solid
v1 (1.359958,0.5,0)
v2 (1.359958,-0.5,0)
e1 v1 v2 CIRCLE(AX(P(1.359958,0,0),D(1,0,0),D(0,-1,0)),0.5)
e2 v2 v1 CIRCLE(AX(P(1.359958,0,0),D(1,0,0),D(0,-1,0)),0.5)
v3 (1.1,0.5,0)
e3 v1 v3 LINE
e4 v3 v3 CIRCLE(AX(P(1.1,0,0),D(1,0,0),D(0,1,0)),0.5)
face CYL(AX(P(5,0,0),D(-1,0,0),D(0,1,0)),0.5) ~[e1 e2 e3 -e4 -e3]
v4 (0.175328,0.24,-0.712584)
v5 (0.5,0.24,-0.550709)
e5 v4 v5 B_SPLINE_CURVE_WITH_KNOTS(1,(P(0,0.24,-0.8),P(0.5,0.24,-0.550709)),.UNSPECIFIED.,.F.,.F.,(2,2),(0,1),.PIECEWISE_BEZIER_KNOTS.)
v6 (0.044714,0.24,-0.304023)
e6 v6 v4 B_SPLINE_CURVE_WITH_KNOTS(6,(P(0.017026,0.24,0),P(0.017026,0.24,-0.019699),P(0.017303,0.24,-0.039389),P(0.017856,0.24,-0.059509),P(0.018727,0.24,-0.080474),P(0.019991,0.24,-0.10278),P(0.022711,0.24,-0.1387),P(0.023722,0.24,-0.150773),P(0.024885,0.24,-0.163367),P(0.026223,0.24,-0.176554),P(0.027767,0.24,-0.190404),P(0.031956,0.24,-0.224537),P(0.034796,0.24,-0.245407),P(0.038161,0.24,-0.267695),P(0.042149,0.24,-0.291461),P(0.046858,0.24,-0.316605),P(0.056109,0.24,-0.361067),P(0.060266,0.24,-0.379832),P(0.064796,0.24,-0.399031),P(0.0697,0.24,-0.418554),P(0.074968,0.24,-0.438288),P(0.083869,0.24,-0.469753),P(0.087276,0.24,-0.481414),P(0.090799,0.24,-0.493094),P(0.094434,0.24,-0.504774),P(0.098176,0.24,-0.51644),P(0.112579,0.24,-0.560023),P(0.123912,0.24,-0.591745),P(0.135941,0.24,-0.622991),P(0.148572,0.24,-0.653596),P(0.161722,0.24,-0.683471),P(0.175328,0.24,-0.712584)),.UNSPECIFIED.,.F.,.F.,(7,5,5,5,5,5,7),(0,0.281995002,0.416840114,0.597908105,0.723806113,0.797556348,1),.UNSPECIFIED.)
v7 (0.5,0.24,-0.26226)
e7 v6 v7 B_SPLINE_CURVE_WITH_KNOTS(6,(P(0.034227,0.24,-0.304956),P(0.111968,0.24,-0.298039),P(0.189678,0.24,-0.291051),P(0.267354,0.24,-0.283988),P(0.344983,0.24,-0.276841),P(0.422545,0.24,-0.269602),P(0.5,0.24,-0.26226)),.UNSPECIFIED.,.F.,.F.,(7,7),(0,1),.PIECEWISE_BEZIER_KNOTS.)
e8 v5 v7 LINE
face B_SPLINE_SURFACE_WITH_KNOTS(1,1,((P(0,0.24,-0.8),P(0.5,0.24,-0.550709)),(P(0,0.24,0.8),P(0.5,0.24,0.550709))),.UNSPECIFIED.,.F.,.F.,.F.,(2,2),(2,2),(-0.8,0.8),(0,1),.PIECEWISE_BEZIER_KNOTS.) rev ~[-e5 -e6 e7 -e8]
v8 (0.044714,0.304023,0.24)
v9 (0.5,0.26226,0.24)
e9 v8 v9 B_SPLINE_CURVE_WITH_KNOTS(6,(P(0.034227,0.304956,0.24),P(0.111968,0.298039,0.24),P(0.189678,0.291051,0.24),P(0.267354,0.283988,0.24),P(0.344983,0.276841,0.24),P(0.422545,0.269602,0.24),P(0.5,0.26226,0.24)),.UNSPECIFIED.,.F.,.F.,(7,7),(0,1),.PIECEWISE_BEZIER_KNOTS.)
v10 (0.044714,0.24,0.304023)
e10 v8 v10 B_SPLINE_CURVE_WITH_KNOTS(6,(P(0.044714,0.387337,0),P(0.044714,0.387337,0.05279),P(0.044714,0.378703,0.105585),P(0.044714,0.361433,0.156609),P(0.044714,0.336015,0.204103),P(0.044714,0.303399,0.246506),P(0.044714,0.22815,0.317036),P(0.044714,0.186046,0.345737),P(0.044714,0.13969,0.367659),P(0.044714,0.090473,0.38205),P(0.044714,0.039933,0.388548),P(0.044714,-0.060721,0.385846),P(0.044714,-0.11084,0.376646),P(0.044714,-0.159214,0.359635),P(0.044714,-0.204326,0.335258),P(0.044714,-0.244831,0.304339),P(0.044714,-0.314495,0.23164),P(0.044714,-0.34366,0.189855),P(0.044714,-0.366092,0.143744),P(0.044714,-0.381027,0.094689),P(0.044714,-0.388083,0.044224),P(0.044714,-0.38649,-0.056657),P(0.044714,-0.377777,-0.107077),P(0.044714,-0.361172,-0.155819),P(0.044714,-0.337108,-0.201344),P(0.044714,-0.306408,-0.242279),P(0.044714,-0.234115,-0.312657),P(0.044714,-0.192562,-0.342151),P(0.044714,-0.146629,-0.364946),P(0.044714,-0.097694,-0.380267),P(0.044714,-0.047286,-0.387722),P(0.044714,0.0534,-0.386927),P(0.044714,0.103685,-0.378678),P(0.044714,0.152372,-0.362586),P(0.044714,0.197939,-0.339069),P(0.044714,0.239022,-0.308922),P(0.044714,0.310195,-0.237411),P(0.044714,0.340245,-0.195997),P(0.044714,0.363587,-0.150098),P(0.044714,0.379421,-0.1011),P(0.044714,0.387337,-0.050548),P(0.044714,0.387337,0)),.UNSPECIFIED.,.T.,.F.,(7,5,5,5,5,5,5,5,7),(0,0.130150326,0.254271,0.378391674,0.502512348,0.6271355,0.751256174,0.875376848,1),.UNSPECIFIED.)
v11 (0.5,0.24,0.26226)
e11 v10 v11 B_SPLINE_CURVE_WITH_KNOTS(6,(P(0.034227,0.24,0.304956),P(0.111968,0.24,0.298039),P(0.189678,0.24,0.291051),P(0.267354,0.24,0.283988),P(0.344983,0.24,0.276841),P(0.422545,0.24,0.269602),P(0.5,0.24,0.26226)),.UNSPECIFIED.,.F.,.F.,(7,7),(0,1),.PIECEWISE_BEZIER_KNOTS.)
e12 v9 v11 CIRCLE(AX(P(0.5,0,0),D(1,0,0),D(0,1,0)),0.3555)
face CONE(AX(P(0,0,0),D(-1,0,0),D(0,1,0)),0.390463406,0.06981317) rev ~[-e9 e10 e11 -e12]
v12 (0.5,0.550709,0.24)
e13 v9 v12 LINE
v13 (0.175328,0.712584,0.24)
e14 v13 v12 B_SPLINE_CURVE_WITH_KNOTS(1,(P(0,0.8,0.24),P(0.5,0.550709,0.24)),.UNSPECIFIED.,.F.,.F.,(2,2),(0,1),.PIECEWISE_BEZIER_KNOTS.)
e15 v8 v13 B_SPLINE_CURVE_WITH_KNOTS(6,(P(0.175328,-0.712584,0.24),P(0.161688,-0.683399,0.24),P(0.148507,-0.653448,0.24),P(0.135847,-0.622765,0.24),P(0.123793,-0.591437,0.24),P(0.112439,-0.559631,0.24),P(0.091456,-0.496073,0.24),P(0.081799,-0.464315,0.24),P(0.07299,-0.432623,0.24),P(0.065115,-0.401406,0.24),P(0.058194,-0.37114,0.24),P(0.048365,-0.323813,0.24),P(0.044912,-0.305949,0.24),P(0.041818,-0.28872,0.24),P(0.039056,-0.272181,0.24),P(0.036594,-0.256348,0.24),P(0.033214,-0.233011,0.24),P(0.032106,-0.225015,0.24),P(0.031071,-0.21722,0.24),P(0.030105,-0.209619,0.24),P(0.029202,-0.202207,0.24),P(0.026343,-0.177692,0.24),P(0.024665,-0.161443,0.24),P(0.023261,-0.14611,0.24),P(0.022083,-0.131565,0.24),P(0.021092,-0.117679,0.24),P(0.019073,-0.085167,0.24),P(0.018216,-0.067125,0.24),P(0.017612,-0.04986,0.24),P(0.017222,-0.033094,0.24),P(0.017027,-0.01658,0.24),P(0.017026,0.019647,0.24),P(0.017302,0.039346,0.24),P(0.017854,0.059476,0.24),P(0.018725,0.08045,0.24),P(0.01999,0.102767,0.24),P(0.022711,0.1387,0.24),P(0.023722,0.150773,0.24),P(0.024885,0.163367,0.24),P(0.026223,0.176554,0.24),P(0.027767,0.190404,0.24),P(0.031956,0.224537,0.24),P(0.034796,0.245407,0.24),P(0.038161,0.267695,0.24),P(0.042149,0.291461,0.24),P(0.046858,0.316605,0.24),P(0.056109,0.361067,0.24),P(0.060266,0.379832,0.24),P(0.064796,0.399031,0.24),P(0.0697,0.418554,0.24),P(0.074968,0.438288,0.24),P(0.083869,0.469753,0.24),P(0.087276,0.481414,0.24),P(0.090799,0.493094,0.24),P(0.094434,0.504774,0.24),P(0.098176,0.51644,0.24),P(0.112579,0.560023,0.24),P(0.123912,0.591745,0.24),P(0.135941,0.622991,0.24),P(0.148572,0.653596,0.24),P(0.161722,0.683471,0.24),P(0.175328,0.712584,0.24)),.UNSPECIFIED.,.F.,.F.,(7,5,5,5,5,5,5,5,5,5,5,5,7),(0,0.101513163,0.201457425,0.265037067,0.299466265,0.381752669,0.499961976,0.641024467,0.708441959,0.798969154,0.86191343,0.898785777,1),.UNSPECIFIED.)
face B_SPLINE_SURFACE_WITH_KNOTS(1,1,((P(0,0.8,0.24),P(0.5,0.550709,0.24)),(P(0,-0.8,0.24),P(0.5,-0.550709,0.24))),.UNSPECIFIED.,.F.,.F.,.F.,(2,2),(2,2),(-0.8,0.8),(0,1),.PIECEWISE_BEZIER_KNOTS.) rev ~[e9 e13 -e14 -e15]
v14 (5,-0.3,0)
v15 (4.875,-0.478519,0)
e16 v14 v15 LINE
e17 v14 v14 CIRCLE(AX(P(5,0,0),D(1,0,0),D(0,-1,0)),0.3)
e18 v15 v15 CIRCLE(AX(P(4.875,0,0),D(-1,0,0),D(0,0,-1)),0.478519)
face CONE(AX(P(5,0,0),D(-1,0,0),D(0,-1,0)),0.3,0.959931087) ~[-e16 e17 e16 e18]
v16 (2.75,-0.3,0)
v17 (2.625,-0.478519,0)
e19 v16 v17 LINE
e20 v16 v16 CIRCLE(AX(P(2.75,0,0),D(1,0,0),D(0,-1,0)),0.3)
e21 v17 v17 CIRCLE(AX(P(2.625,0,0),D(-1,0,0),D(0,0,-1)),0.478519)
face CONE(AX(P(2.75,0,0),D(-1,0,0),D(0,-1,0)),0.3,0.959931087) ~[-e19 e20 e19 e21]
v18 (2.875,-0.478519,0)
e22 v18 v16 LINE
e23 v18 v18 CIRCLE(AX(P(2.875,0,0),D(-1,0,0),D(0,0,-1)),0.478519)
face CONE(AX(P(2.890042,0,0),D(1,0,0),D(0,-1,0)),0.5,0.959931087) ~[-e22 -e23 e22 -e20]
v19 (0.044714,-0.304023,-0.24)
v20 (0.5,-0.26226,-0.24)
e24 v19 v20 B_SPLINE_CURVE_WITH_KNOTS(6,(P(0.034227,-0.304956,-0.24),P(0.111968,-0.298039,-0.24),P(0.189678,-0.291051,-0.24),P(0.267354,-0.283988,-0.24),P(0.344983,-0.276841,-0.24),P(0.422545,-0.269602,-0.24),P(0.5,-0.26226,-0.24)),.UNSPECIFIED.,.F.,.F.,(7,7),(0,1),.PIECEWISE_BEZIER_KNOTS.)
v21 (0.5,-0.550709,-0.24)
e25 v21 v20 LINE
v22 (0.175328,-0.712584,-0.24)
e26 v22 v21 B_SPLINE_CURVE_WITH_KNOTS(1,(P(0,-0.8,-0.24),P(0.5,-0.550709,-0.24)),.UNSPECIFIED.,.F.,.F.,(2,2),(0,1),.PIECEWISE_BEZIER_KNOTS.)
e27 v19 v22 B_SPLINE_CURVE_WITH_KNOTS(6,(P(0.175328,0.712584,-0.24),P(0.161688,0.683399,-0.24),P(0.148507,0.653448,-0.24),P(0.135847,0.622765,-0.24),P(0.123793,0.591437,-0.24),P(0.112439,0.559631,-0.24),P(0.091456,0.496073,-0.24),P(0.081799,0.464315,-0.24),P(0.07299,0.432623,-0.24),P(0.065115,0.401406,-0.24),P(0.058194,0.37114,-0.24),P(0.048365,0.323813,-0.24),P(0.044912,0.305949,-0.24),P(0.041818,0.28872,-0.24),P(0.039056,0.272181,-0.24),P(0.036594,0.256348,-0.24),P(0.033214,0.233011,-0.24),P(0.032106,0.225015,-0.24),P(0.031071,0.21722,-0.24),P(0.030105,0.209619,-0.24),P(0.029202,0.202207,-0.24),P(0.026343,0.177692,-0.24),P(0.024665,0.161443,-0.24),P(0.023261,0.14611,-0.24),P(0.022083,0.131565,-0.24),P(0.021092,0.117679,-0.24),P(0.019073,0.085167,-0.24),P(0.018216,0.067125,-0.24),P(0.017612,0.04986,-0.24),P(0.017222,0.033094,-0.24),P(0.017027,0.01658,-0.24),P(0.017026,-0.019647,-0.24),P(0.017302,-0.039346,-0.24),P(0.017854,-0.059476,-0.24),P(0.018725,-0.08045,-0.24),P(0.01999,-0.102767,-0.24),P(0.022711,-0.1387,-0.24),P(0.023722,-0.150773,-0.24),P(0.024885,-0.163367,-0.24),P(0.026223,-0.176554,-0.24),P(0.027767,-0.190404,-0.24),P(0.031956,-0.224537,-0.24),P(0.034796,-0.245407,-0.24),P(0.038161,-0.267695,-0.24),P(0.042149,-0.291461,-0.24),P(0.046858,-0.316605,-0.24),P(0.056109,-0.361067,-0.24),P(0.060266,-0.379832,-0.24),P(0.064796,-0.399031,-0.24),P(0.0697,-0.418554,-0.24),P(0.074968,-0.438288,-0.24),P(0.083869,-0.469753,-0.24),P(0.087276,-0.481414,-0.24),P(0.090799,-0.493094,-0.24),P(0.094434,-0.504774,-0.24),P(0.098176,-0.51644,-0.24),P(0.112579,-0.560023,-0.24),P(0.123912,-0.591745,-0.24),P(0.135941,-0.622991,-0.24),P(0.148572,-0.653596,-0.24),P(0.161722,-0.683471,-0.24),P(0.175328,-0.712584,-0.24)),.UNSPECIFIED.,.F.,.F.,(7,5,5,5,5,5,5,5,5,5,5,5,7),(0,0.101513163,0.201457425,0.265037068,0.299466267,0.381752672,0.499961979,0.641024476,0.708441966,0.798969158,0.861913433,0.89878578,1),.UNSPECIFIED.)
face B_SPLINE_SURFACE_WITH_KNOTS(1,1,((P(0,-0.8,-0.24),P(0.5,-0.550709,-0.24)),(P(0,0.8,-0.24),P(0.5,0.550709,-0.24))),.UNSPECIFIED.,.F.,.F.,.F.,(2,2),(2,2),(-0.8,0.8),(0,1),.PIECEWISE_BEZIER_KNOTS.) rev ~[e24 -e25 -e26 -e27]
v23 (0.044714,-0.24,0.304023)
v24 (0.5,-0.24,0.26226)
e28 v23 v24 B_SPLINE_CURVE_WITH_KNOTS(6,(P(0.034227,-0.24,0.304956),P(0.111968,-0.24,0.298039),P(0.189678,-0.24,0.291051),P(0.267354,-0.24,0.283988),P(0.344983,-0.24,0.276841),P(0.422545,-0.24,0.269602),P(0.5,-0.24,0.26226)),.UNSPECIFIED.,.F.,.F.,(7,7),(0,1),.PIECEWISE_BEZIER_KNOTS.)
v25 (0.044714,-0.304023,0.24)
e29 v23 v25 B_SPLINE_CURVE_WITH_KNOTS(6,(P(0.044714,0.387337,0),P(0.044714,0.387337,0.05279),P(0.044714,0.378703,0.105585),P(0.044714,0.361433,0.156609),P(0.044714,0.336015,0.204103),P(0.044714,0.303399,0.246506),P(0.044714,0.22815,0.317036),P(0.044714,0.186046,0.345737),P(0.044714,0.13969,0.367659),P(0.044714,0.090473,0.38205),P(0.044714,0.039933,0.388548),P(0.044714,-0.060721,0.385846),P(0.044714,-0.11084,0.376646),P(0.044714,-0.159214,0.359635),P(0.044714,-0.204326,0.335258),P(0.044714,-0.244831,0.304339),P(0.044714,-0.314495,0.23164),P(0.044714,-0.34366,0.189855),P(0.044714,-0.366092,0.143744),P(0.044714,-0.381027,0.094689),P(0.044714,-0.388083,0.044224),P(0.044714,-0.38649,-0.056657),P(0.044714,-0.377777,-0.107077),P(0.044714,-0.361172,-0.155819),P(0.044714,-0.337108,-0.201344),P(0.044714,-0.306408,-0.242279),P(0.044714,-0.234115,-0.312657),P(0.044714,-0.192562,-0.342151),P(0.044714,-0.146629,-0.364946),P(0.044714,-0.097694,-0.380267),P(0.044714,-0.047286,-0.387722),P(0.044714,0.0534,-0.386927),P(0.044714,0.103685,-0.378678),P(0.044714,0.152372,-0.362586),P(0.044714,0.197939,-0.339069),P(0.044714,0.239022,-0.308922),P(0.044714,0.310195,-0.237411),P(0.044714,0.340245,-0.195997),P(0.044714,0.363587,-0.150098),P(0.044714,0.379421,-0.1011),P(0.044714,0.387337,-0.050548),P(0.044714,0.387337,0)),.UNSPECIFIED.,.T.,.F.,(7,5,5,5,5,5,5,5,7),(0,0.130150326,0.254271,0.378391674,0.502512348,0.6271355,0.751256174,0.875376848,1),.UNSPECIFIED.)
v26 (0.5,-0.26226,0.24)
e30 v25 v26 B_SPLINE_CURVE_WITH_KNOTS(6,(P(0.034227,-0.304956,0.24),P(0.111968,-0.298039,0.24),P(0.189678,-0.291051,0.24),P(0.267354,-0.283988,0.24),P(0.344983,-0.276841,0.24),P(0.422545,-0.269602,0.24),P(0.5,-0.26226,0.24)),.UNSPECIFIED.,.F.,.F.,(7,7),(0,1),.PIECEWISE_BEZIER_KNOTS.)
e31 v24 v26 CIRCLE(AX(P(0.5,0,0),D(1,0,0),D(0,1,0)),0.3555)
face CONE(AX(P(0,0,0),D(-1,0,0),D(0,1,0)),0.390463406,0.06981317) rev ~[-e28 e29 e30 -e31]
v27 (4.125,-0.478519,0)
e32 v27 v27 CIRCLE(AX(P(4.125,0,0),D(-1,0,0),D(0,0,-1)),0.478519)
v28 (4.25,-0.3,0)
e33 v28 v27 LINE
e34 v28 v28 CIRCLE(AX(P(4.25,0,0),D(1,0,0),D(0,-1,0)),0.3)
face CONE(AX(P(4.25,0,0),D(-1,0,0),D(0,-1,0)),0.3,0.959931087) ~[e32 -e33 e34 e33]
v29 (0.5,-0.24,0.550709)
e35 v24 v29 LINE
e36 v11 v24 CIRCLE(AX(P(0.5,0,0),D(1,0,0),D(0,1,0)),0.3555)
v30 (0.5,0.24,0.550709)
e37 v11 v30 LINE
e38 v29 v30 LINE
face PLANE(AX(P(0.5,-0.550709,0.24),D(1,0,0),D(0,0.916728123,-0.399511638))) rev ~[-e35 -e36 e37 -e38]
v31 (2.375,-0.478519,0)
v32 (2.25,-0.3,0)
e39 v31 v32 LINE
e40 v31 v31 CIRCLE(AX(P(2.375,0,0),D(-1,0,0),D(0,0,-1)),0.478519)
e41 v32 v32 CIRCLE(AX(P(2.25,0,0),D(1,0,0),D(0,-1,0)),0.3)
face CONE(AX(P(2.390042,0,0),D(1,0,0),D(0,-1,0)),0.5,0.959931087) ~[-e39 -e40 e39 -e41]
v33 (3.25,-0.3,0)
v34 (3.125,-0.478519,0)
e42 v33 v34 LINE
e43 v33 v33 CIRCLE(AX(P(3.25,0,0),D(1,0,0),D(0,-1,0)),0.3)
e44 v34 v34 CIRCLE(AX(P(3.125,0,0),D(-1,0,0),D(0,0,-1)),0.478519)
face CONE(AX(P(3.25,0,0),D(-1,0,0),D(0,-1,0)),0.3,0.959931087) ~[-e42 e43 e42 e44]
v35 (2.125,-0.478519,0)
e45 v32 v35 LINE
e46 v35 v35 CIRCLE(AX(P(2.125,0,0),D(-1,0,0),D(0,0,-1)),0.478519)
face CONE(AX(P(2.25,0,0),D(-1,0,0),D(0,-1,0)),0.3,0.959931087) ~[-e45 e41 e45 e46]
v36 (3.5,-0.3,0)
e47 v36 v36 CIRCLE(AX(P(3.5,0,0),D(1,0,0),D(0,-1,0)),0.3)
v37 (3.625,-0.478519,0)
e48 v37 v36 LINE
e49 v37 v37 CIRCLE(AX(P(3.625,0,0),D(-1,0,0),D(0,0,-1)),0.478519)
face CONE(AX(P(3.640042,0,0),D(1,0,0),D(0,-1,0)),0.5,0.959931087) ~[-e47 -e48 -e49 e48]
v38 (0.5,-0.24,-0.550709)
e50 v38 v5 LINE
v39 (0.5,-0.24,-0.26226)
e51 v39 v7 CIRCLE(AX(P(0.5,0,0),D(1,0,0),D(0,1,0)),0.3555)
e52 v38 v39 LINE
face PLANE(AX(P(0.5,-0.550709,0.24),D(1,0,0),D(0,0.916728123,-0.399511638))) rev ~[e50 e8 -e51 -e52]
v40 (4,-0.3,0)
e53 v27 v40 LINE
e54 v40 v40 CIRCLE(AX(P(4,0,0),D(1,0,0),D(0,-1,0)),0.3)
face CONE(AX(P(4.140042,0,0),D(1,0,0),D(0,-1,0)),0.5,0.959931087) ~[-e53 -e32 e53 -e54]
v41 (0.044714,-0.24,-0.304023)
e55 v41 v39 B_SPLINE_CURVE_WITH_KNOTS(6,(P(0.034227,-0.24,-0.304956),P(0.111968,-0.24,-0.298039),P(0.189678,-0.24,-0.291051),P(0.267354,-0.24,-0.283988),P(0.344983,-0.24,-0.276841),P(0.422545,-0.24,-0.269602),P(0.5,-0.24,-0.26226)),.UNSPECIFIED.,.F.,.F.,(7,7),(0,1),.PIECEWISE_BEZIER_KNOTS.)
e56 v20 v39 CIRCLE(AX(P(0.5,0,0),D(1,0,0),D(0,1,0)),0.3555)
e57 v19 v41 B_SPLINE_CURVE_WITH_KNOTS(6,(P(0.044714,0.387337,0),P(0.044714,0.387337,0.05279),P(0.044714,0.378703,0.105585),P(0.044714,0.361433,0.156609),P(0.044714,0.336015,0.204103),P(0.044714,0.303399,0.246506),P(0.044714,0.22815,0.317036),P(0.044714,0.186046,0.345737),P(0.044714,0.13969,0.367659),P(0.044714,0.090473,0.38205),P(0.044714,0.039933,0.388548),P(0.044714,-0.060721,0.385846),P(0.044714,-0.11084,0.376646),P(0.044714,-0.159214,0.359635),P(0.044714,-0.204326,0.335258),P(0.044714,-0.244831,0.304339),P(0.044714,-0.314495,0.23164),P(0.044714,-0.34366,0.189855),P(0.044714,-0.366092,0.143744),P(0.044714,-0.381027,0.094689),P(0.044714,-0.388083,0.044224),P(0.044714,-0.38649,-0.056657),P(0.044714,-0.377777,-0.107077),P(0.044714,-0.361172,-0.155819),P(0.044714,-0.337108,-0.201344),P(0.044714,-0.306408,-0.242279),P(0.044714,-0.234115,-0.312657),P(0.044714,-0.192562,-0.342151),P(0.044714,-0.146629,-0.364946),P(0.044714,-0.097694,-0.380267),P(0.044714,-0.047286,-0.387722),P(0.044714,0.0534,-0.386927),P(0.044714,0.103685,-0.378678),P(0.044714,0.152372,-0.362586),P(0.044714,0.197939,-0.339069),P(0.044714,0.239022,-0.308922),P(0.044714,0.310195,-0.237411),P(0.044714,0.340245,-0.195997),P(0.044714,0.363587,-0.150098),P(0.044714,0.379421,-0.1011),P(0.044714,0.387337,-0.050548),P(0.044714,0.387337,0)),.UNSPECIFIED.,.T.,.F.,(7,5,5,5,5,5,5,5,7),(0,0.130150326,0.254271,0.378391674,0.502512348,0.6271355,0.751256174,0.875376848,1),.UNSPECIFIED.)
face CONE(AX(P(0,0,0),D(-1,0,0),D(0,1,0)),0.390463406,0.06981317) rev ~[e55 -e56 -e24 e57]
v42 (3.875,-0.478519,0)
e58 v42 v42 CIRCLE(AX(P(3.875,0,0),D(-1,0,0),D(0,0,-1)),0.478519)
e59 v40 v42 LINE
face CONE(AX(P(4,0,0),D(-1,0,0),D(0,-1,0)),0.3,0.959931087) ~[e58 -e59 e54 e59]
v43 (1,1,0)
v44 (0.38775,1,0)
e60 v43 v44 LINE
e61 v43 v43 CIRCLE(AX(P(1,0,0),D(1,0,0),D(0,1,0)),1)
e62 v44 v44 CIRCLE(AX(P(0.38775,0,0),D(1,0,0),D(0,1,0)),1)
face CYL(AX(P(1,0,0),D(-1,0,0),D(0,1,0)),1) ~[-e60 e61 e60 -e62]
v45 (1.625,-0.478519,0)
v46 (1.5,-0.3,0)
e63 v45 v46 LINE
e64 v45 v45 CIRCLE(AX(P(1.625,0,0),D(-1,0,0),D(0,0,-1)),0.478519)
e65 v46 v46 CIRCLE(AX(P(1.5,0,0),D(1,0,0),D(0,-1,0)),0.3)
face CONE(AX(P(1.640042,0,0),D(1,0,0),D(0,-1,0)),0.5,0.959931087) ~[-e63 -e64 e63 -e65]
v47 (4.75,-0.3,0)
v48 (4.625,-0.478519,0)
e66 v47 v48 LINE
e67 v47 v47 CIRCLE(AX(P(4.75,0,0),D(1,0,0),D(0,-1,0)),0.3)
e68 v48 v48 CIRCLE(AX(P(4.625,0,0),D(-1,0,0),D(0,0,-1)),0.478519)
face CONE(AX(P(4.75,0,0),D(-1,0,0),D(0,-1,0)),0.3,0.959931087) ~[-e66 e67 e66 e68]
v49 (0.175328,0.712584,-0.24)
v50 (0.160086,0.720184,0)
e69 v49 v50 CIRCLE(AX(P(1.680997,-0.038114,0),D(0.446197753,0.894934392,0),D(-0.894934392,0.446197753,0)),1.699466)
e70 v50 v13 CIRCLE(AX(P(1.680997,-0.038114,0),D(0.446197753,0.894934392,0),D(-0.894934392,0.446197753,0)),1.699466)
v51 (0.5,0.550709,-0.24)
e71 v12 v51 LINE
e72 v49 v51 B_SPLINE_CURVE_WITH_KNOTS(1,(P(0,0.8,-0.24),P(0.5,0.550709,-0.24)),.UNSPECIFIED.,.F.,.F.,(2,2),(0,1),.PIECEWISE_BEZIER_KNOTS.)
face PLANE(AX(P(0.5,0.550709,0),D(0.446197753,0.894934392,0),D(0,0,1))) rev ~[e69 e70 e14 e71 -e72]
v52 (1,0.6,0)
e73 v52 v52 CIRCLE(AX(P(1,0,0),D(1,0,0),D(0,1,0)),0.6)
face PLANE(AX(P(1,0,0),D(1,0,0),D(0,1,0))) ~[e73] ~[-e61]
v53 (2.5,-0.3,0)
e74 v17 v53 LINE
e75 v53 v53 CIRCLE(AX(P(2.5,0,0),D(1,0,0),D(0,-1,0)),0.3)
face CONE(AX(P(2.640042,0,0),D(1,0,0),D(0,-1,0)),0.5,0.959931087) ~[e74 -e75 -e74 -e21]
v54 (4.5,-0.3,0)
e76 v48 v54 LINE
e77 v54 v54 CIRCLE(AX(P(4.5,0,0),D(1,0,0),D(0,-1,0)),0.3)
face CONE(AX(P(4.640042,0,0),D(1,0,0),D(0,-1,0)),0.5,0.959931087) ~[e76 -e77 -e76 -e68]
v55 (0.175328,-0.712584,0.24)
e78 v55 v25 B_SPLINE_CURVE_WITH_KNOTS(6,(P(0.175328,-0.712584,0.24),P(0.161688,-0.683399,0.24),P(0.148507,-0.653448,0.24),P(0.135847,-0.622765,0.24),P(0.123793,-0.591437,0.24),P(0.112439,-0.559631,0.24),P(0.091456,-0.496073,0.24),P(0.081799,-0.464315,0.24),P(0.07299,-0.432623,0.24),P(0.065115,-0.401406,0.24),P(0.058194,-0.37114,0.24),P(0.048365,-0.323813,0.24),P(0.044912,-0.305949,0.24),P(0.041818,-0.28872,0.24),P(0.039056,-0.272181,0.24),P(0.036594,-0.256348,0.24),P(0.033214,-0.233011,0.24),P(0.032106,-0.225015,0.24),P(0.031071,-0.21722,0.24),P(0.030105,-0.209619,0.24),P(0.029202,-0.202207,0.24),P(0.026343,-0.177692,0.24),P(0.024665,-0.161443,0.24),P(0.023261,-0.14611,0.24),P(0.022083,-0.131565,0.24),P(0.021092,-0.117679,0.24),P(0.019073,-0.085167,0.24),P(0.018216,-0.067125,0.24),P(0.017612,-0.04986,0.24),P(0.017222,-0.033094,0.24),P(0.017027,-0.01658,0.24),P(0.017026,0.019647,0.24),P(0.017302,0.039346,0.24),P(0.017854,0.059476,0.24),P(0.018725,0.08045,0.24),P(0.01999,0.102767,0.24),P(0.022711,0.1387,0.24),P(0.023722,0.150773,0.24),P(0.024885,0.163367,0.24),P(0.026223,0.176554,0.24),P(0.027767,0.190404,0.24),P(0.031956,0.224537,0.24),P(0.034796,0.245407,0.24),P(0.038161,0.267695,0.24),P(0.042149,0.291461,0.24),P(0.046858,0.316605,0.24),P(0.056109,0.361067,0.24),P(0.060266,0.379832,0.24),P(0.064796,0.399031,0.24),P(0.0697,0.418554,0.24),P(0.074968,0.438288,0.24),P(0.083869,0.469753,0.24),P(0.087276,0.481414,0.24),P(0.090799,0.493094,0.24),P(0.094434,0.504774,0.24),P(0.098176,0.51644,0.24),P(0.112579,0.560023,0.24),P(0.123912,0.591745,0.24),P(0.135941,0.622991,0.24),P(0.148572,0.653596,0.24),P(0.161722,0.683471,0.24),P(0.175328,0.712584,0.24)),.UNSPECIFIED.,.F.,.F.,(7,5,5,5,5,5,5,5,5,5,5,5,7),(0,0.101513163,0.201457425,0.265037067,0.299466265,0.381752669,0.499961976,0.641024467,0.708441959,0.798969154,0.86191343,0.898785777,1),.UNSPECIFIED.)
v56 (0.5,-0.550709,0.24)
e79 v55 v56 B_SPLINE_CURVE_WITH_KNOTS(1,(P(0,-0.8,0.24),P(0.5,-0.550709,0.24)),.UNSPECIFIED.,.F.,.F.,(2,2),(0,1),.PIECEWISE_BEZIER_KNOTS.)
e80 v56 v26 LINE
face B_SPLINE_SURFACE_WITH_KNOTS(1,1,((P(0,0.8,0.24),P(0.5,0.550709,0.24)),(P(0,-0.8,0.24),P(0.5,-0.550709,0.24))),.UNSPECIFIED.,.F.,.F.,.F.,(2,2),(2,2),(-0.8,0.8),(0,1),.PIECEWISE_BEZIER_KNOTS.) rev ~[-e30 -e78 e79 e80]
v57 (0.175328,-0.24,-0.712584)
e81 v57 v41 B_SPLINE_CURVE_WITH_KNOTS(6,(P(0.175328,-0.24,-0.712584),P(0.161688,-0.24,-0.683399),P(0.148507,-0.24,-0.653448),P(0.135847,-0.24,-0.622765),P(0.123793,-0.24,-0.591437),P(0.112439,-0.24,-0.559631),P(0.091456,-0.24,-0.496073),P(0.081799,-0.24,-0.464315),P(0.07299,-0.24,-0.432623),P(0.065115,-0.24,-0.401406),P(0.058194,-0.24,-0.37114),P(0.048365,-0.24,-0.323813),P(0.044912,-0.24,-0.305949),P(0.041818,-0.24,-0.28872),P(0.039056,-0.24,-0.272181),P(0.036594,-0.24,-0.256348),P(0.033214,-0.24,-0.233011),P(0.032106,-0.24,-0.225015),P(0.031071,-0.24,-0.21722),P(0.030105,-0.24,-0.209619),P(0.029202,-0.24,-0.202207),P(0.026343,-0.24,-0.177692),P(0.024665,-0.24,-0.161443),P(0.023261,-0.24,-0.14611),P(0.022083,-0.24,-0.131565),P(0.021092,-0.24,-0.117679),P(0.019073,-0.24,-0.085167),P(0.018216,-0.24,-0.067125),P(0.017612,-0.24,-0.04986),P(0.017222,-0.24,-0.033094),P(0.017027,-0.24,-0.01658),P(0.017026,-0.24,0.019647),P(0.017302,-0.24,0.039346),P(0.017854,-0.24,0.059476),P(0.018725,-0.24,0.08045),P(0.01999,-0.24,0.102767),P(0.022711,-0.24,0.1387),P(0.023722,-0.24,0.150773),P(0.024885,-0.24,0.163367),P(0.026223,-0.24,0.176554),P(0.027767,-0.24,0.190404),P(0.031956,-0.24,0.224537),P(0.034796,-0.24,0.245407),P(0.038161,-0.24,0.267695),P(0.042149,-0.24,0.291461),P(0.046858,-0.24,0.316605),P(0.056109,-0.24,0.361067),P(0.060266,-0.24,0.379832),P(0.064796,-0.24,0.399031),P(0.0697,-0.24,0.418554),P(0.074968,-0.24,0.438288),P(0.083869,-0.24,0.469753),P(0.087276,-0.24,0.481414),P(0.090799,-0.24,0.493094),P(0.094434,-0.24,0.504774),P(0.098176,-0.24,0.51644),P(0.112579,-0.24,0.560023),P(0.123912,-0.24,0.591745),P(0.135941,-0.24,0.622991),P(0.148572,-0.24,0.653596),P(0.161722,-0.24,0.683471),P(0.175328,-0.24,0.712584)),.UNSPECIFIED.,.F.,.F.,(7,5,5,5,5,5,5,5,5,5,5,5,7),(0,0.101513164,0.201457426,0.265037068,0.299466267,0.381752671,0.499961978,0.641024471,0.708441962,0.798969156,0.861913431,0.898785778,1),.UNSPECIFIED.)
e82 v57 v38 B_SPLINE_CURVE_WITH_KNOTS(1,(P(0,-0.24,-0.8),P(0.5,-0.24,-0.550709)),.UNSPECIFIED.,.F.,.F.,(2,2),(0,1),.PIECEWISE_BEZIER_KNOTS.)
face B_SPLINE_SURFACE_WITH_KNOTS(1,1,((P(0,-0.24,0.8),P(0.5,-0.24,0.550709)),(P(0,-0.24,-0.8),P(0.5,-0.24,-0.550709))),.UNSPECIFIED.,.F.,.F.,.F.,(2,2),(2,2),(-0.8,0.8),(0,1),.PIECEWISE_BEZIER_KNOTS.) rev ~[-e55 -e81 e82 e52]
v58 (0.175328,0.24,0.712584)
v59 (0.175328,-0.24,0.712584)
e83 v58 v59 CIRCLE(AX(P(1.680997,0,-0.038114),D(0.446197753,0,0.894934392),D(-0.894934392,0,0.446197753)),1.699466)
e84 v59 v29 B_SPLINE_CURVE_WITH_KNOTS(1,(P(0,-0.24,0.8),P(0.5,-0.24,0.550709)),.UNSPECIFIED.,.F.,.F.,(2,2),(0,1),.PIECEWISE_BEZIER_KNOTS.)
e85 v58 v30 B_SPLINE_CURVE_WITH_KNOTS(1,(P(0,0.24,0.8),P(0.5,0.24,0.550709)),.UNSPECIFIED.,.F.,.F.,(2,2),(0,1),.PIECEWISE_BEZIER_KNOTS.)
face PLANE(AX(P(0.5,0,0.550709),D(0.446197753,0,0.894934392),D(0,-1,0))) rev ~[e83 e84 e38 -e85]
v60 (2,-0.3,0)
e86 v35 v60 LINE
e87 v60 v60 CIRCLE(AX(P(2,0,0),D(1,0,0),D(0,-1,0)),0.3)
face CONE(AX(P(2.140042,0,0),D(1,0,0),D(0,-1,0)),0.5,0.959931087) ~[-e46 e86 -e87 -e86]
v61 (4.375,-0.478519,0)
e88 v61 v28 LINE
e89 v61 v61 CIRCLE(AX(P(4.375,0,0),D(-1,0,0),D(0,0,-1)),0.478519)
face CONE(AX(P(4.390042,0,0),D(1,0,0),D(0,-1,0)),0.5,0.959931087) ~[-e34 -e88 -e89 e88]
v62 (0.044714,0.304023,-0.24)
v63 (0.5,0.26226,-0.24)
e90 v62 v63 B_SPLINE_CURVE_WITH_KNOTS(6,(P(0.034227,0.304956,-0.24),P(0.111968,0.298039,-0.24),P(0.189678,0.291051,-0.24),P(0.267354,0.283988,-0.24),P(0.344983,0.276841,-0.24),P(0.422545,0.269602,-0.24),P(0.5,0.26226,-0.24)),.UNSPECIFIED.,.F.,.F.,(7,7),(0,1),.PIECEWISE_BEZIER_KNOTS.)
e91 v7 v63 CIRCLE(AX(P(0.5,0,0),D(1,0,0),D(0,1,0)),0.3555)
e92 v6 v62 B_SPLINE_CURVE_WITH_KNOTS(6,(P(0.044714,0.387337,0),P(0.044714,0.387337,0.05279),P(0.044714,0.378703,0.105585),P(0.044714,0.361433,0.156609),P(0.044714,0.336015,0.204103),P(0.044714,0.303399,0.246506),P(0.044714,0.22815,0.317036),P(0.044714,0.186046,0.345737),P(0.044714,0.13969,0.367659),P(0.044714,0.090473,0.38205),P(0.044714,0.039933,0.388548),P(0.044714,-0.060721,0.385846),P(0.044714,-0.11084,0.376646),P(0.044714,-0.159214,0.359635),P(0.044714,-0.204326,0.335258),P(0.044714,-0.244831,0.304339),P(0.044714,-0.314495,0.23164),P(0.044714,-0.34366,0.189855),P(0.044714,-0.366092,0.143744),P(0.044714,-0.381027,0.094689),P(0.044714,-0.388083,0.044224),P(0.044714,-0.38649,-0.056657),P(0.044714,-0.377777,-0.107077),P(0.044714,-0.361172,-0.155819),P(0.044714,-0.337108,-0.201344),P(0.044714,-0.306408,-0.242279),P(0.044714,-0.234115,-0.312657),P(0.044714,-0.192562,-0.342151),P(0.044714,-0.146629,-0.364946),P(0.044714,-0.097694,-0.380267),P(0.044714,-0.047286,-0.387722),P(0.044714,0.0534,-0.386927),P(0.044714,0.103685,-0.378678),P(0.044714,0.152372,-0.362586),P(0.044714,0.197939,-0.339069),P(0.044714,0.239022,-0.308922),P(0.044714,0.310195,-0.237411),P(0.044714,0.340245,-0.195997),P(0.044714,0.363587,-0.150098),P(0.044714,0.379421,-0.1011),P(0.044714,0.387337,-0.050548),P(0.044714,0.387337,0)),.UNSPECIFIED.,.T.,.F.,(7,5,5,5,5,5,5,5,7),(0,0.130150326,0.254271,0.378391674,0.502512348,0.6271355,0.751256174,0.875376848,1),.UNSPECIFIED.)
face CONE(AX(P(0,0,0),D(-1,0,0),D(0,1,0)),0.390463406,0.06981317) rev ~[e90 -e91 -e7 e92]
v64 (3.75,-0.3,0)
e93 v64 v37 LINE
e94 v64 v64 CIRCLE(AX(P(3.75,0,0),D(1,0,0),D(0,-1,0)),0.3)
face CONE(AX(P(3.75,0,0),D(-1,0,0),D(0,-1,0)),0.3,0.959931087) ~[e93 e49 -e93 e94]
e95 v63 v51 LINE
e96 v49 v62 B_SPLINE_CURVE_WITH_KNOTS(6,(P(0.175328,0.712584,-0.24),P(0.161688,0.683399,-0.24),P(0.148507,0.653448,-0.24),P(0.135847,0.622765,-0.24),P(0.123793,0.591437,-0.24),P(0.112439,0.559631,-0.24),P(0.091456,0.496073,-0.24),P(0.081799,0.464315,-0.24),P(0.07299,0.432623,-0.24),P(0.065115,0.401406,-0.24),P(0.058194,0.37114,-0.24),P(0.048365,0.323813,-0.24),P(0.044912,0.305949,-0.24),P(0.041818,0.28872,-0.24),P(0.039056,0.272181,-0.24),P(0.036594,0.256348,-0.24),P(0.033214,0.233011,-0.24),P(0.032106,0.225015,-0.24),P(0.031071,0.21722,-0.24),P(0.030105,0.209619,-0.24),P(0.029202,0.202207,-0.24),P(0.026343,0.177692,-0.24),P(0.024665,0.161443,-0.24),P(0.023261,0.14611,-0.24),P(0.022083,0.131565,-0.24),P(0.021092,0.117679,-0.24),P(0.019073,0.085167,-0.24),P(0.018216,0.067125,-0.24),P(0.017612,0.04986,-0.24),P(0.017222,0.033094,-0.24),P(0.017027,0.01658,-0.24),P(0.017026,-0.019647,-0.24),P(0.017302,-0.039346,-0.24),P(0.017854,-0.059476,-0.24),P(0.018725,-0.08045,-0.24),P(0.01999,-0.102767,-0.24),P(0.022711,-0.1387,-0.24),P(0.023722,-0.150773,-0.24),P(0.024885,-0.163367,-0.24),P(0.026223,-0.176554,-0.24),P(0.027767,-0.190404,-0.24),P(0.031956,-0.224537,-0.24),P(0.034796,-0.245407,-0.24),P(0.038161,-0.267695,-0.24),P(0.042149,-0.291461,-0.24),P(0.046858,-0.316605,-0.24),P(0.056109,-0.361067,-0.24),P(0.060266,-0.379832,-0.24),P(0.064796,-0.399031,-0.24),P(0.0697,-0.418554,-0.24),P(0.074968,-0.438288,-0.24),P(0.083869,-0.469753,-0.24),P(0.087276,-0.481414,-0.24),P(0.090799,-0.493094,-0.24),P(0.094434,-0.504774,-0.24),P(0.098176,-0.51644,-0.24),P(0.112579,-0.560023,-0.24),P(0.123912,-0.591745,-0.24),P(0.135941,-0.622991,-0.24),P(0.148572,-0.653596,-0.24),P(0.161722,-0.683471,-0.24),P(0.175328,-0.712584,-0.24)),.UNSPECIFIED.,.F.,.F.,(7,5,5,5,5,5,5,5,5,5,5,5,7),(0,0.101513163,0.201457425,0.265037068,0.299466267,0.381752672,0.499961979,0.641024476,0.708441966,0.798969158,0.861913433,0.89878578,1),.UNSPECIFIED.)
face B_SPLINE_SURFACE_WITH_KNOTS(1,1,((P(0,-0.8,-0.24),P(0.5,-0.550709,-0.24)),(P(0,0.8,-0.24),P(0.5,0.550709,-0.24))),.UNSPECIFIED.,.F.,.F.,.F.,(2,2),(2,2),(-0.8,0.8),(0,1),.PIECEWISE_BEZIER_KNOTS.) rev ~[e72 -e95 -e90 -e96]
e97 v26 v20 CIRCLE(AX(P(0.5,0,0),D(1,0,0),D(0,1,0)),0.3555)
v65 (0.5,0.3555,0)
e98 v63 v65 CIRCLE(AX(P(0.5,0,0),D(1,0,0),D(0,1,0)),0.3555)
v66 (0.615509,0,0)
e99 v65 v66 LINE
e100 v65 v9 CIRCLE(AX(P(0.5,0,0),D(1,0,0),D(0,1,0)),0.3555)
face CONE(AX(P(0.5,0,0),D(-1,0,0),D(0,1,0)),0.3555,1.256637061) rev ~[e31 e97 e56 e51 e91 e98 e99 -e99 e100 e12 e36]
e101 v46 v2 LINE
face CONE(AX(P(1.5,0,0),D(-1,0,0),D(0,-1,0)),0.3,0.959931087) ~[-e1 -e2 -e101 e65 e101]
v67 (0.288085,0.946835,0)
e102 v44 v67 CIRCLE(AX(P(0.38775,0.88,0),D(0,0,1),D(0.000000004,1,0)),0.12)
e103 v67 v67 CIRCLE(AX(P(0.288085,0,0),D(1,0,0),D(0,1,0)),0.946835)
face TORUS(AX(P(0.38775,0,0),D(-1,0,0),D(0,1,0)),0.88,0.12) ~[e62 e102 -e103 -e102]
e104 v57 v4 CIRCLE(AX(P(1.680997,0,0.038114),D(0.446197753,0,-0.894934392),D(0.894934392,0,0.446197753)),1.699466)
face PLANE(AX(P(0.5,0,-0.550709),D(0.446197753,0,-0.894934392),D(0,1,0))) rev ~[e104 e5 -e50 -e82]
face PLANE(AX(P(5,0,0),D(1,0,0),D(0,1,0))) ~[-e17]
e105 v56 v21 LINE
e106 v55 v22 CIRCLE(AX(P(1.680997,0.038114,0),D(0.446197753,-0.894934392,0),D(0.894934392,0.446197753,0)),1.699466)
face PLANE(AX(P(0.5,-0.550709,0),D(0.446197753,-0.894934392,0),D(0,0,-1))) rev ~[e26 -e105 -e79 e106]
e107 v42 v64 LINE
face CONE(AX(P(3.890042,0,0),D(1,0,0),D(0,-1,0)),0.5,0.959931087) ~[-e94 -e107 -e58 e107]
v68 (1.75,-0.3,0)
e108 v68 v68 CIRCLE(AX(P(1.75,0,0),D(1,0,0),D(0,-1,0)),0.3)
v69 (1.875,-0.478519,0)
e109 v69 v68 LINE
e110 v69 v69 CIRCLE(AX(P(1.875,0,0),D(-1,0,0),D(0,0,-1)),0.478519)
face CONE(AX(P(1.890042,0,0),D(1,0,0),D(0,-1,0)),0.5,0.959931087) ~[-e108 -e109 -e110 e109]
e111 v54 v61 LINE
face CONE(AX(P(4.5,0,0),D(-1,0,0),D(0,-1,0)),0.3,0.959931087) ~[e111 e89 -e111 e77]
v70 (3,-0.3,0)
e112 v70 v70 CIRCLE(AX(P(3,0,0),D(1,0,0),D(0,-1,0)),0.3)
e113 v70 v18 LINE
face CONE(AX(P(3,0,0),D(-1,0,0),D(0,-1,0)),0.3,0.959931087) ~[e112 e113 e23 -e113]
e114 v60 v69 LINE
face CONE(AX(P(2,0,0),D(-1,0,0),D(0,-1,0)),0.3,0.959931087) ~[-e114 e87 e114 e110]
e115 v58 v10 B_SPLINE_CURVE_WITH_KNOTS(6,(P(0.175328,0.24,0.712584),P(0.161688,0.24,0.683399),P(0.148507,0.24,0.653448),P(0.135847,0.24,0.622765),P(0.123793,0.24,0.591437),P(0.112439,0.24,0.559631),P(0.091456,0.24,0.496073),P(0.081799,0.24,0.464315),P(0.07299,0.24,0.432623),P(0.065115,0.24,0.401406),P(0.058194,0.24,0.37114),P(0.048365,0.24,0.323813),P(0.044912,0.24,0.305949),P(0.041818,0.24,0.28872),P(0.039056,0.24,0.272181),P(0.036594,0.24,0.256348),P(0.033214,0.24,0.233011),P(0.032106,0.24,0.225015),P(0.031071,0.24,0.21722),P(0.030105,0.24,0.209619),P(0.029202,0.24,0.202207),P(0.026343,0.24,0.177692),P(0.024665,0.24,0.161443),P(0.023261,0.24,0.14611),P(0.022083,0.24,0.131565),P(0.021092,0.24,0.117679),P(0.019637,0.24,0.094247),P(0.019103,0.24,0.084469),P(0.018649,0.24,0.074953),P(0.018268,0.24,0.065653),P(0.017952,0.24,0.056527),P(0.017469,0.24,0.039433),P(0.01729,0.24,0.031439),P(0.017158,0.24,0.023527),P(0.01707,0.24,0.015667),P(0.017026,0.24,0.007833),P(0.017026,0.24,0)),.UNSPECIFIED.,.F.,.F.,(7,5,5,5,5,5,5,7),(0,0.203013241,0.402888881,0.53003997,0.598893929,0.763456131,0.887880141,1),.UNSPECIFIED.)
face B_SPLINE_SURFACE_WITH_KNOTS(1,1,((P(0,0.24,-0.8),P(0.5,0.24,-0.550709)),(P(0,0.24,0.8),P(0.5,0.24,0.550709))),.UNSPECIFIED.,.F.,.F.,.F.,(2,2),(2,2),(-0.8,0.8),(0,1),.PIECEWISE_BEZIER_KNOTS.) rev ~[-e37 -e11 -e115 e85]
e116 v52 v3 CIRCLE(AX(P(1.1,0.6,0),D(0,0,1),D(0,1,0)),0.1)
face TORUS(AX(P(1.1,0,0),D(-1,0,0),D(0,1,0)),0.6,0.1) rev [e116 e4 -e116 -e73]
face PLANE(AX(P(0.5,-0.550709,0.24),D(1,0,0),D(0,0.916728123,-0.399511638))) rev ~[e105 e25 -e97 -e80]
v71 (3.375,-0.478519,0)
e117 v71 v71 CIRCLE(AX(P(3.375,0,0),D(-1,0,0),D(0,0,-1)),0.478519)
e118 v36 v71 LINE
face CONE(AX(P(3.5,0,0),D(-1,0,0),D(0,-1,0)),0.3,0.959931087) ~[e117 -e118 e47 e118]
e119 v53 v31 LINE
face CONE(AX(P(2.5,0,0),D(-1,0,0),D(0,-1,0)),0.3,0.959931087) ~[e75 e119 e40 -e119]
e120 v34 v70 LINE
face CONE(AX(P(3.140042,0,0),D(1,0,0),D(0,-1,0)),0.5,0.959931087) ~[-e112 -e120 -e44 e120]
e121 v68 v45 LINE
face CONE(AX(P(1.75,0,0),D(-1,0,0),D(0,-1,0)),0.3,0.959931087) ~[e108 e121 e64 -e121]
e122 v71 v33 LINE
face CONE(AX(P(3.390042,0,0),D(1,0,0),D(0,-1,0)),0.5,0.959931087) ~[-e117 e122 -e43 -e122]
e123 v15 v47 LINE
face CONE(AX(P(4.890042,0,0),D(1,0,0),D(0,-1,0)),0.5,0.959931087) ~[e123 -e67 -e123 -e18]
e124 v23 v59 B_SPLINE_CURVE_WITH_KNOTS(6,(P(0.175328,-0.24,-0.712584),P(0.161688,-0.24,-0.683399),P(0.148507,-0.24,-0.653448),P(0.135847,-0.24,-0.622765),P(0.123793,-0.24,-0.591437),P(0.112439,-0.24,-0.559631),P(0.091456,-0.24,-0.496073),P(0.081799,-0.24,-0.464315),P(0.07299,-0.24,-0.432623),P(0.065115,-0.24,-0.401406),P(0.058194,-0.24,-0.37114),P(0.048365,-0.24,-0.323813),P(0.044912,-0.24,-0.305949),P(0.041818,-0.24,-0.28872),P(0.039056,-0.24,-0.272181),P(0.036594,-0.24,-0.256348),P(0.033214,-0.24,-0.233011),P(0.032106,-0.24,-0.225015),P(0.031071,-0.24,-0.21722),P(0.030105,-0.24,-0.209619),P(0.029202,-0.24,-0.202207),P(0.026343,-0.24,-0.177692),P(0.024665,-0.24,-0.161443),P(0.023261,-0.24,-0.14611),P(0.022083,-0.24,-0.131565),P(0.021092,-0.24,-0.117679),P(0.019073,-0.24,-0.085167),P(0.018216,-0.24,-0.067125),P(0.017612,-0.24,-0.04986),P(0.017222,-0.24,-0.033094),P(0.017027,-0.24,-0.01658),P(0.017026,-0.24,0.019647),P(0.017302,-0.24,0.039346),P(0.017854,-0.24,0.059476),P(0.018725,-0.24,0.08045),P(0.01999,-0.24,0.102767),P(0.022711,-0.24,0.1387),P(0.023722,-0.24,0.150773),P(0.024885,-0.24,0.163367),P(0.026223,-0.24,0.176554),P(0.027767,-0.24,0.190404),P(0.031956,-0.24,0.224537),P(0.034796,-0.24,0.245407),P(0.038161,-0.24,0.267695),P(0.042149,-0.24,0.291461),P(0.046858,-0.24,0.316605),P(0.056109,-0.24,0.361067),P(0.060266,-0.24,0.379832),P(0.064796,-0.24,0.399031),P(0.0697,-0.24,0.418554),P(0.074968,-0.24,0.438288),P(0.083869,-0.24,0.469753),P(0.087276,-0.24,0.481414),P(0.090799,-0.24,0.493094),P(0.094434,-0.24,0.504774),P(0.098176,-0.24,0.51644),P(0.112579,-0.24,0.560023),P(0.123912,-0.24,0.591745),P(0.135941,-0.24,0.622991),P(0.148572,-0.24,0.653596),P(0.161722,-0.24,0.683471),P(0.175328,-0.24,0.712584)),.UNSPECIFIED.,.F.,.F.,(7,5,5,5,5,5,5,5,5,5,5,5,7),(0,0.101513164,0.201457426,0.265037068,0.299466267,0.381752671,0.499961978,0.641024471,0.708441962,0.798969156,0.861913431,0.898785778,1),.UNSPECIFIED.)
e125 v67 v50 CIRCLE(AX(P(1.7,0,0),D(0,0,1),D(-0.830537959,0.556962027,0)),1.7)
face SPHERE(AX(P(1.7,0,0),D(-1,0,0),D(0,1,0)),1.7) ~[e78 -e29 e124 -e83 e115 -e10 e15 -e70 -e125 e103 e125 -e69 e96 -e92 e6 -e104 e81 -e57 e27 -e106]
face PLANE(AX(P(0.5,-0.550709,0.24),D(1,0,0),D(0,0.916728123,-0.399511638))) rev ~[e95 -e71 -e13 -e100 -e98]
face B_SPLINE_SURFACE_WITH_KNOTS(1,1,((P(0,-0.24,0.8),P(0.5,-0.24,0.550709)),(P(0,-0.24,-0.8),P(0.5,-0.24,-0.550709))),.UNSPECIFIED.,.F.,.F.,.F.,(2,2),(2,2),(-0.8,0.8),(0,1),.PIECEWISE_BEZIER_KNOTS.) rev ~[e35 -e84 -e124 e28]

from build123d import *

# Parameters (mm, degrees)
FILLET1_R       = 0.1
SKETCH3_W       = 0.48
SKETCH3_H       = 1.6
SKETCH4_W       = 0.48
SKETCH4_H       = 1.101418476
RECPAT_COUNT    = 2
RECPAT_ANGLE    = 90
THDSCHPAT_COUNT = 15
THDSCHPAT_PITCH = 0.25


with BuildPart() as part:
    # BodySke → Base-Revolve (revolve)
    with BuildSketch(Plane.XY):
        with BuildLine():
            Line((1, 0.5), (1, 1))
            Line((1, 1), (0.387750024, 1))
            ThreePointArc((0.387750024, 1), (0.331271059, 0.985877885), (0.288085469, 0.946835443))
            ThreePointArc((0.288085469, 0.946835443), (0.073615251, 0.494846086), (0, 0))
            Line((0, 0), (5, 0))
            Line((5, 0), (5, 0.5))
            Line((5, 0.5), (1, 0.5))
        make_face()
    revolve(axis=Axis((-25.4, 0, 0), (1, 0, 0)))

    # Fillet1
    fillet1_edges = [part.edges().sort_by_distance(p)[0] for p in [
        (1, -0.5, 0),
    ]]
    fillet(fillet1_edges, radius=FILLET1_R)

    # Sketch3 → Recess section 0
    with BuildSketch(Plane(origin=(0, 0, 0), x_dir=(0, 0, -1), z_dir=(1, 0, 0))):
        Rectangle(SKETCH3_W, SKETCH3_H)
    # Sketch4 → Recess section 1
    with BuildSketch(Plane(origin=(0.5, 0, 0), x_dir=(0, 0, -1), z_dir=(1, 0, 0))):
        Rectangle(SKETCH4_W, SKETCH4_H)
    recess = loft(mode=Mode.SUBTRACT)

    # RecPat: Recess ×2 about axis
    recpat_axis = Axis((0, 0, 0), (1, 0, 0))
    for i in range(1, RECPAT_COUNT):
        add(recess.rotate(recpat_axis, i * RECPAT_ANGLE / (RECPAT_COUNT - 1)), mode=Mode.SUBTRACT)

    # RecCorSke → RecessCore (revolve, cut)
    with BuildSketch(Plane.XY):
        Polygon((0, 0), (0, 0.390463406), (0.5, 0.3555), (0.615508952, 0), align=None)
    revolve(axis=Axis((-3.175, 0, 0), (1, 0, 0)), mode=Mode.SUBTRACT)

    # ThdSchSke → ThreadSchematic (revolve, cut)
    with BuildSketch(Plane.XY):
        Polygon((1.5, -0.3), (1.359958492, -0.5), (1.359958492, -0.625), (1.640041508, -0.625), (1.640041508, -0.5), align=None)
    threadschematic = revolve(axis=Axis((-3.175, 0, 0), (1, 0, 0)), mode=Mode.SUBTRACT)

    # ThdSchPat: ThreadSchematic ×15
    with Locations(*[(i * THDSCHPAT_PITCH, 0, 0) for i in range(1, THDSCHPAT_COUNT)]):
        add(threadschematic, mode=Mode.SUBTRACT)


solid = part.part
